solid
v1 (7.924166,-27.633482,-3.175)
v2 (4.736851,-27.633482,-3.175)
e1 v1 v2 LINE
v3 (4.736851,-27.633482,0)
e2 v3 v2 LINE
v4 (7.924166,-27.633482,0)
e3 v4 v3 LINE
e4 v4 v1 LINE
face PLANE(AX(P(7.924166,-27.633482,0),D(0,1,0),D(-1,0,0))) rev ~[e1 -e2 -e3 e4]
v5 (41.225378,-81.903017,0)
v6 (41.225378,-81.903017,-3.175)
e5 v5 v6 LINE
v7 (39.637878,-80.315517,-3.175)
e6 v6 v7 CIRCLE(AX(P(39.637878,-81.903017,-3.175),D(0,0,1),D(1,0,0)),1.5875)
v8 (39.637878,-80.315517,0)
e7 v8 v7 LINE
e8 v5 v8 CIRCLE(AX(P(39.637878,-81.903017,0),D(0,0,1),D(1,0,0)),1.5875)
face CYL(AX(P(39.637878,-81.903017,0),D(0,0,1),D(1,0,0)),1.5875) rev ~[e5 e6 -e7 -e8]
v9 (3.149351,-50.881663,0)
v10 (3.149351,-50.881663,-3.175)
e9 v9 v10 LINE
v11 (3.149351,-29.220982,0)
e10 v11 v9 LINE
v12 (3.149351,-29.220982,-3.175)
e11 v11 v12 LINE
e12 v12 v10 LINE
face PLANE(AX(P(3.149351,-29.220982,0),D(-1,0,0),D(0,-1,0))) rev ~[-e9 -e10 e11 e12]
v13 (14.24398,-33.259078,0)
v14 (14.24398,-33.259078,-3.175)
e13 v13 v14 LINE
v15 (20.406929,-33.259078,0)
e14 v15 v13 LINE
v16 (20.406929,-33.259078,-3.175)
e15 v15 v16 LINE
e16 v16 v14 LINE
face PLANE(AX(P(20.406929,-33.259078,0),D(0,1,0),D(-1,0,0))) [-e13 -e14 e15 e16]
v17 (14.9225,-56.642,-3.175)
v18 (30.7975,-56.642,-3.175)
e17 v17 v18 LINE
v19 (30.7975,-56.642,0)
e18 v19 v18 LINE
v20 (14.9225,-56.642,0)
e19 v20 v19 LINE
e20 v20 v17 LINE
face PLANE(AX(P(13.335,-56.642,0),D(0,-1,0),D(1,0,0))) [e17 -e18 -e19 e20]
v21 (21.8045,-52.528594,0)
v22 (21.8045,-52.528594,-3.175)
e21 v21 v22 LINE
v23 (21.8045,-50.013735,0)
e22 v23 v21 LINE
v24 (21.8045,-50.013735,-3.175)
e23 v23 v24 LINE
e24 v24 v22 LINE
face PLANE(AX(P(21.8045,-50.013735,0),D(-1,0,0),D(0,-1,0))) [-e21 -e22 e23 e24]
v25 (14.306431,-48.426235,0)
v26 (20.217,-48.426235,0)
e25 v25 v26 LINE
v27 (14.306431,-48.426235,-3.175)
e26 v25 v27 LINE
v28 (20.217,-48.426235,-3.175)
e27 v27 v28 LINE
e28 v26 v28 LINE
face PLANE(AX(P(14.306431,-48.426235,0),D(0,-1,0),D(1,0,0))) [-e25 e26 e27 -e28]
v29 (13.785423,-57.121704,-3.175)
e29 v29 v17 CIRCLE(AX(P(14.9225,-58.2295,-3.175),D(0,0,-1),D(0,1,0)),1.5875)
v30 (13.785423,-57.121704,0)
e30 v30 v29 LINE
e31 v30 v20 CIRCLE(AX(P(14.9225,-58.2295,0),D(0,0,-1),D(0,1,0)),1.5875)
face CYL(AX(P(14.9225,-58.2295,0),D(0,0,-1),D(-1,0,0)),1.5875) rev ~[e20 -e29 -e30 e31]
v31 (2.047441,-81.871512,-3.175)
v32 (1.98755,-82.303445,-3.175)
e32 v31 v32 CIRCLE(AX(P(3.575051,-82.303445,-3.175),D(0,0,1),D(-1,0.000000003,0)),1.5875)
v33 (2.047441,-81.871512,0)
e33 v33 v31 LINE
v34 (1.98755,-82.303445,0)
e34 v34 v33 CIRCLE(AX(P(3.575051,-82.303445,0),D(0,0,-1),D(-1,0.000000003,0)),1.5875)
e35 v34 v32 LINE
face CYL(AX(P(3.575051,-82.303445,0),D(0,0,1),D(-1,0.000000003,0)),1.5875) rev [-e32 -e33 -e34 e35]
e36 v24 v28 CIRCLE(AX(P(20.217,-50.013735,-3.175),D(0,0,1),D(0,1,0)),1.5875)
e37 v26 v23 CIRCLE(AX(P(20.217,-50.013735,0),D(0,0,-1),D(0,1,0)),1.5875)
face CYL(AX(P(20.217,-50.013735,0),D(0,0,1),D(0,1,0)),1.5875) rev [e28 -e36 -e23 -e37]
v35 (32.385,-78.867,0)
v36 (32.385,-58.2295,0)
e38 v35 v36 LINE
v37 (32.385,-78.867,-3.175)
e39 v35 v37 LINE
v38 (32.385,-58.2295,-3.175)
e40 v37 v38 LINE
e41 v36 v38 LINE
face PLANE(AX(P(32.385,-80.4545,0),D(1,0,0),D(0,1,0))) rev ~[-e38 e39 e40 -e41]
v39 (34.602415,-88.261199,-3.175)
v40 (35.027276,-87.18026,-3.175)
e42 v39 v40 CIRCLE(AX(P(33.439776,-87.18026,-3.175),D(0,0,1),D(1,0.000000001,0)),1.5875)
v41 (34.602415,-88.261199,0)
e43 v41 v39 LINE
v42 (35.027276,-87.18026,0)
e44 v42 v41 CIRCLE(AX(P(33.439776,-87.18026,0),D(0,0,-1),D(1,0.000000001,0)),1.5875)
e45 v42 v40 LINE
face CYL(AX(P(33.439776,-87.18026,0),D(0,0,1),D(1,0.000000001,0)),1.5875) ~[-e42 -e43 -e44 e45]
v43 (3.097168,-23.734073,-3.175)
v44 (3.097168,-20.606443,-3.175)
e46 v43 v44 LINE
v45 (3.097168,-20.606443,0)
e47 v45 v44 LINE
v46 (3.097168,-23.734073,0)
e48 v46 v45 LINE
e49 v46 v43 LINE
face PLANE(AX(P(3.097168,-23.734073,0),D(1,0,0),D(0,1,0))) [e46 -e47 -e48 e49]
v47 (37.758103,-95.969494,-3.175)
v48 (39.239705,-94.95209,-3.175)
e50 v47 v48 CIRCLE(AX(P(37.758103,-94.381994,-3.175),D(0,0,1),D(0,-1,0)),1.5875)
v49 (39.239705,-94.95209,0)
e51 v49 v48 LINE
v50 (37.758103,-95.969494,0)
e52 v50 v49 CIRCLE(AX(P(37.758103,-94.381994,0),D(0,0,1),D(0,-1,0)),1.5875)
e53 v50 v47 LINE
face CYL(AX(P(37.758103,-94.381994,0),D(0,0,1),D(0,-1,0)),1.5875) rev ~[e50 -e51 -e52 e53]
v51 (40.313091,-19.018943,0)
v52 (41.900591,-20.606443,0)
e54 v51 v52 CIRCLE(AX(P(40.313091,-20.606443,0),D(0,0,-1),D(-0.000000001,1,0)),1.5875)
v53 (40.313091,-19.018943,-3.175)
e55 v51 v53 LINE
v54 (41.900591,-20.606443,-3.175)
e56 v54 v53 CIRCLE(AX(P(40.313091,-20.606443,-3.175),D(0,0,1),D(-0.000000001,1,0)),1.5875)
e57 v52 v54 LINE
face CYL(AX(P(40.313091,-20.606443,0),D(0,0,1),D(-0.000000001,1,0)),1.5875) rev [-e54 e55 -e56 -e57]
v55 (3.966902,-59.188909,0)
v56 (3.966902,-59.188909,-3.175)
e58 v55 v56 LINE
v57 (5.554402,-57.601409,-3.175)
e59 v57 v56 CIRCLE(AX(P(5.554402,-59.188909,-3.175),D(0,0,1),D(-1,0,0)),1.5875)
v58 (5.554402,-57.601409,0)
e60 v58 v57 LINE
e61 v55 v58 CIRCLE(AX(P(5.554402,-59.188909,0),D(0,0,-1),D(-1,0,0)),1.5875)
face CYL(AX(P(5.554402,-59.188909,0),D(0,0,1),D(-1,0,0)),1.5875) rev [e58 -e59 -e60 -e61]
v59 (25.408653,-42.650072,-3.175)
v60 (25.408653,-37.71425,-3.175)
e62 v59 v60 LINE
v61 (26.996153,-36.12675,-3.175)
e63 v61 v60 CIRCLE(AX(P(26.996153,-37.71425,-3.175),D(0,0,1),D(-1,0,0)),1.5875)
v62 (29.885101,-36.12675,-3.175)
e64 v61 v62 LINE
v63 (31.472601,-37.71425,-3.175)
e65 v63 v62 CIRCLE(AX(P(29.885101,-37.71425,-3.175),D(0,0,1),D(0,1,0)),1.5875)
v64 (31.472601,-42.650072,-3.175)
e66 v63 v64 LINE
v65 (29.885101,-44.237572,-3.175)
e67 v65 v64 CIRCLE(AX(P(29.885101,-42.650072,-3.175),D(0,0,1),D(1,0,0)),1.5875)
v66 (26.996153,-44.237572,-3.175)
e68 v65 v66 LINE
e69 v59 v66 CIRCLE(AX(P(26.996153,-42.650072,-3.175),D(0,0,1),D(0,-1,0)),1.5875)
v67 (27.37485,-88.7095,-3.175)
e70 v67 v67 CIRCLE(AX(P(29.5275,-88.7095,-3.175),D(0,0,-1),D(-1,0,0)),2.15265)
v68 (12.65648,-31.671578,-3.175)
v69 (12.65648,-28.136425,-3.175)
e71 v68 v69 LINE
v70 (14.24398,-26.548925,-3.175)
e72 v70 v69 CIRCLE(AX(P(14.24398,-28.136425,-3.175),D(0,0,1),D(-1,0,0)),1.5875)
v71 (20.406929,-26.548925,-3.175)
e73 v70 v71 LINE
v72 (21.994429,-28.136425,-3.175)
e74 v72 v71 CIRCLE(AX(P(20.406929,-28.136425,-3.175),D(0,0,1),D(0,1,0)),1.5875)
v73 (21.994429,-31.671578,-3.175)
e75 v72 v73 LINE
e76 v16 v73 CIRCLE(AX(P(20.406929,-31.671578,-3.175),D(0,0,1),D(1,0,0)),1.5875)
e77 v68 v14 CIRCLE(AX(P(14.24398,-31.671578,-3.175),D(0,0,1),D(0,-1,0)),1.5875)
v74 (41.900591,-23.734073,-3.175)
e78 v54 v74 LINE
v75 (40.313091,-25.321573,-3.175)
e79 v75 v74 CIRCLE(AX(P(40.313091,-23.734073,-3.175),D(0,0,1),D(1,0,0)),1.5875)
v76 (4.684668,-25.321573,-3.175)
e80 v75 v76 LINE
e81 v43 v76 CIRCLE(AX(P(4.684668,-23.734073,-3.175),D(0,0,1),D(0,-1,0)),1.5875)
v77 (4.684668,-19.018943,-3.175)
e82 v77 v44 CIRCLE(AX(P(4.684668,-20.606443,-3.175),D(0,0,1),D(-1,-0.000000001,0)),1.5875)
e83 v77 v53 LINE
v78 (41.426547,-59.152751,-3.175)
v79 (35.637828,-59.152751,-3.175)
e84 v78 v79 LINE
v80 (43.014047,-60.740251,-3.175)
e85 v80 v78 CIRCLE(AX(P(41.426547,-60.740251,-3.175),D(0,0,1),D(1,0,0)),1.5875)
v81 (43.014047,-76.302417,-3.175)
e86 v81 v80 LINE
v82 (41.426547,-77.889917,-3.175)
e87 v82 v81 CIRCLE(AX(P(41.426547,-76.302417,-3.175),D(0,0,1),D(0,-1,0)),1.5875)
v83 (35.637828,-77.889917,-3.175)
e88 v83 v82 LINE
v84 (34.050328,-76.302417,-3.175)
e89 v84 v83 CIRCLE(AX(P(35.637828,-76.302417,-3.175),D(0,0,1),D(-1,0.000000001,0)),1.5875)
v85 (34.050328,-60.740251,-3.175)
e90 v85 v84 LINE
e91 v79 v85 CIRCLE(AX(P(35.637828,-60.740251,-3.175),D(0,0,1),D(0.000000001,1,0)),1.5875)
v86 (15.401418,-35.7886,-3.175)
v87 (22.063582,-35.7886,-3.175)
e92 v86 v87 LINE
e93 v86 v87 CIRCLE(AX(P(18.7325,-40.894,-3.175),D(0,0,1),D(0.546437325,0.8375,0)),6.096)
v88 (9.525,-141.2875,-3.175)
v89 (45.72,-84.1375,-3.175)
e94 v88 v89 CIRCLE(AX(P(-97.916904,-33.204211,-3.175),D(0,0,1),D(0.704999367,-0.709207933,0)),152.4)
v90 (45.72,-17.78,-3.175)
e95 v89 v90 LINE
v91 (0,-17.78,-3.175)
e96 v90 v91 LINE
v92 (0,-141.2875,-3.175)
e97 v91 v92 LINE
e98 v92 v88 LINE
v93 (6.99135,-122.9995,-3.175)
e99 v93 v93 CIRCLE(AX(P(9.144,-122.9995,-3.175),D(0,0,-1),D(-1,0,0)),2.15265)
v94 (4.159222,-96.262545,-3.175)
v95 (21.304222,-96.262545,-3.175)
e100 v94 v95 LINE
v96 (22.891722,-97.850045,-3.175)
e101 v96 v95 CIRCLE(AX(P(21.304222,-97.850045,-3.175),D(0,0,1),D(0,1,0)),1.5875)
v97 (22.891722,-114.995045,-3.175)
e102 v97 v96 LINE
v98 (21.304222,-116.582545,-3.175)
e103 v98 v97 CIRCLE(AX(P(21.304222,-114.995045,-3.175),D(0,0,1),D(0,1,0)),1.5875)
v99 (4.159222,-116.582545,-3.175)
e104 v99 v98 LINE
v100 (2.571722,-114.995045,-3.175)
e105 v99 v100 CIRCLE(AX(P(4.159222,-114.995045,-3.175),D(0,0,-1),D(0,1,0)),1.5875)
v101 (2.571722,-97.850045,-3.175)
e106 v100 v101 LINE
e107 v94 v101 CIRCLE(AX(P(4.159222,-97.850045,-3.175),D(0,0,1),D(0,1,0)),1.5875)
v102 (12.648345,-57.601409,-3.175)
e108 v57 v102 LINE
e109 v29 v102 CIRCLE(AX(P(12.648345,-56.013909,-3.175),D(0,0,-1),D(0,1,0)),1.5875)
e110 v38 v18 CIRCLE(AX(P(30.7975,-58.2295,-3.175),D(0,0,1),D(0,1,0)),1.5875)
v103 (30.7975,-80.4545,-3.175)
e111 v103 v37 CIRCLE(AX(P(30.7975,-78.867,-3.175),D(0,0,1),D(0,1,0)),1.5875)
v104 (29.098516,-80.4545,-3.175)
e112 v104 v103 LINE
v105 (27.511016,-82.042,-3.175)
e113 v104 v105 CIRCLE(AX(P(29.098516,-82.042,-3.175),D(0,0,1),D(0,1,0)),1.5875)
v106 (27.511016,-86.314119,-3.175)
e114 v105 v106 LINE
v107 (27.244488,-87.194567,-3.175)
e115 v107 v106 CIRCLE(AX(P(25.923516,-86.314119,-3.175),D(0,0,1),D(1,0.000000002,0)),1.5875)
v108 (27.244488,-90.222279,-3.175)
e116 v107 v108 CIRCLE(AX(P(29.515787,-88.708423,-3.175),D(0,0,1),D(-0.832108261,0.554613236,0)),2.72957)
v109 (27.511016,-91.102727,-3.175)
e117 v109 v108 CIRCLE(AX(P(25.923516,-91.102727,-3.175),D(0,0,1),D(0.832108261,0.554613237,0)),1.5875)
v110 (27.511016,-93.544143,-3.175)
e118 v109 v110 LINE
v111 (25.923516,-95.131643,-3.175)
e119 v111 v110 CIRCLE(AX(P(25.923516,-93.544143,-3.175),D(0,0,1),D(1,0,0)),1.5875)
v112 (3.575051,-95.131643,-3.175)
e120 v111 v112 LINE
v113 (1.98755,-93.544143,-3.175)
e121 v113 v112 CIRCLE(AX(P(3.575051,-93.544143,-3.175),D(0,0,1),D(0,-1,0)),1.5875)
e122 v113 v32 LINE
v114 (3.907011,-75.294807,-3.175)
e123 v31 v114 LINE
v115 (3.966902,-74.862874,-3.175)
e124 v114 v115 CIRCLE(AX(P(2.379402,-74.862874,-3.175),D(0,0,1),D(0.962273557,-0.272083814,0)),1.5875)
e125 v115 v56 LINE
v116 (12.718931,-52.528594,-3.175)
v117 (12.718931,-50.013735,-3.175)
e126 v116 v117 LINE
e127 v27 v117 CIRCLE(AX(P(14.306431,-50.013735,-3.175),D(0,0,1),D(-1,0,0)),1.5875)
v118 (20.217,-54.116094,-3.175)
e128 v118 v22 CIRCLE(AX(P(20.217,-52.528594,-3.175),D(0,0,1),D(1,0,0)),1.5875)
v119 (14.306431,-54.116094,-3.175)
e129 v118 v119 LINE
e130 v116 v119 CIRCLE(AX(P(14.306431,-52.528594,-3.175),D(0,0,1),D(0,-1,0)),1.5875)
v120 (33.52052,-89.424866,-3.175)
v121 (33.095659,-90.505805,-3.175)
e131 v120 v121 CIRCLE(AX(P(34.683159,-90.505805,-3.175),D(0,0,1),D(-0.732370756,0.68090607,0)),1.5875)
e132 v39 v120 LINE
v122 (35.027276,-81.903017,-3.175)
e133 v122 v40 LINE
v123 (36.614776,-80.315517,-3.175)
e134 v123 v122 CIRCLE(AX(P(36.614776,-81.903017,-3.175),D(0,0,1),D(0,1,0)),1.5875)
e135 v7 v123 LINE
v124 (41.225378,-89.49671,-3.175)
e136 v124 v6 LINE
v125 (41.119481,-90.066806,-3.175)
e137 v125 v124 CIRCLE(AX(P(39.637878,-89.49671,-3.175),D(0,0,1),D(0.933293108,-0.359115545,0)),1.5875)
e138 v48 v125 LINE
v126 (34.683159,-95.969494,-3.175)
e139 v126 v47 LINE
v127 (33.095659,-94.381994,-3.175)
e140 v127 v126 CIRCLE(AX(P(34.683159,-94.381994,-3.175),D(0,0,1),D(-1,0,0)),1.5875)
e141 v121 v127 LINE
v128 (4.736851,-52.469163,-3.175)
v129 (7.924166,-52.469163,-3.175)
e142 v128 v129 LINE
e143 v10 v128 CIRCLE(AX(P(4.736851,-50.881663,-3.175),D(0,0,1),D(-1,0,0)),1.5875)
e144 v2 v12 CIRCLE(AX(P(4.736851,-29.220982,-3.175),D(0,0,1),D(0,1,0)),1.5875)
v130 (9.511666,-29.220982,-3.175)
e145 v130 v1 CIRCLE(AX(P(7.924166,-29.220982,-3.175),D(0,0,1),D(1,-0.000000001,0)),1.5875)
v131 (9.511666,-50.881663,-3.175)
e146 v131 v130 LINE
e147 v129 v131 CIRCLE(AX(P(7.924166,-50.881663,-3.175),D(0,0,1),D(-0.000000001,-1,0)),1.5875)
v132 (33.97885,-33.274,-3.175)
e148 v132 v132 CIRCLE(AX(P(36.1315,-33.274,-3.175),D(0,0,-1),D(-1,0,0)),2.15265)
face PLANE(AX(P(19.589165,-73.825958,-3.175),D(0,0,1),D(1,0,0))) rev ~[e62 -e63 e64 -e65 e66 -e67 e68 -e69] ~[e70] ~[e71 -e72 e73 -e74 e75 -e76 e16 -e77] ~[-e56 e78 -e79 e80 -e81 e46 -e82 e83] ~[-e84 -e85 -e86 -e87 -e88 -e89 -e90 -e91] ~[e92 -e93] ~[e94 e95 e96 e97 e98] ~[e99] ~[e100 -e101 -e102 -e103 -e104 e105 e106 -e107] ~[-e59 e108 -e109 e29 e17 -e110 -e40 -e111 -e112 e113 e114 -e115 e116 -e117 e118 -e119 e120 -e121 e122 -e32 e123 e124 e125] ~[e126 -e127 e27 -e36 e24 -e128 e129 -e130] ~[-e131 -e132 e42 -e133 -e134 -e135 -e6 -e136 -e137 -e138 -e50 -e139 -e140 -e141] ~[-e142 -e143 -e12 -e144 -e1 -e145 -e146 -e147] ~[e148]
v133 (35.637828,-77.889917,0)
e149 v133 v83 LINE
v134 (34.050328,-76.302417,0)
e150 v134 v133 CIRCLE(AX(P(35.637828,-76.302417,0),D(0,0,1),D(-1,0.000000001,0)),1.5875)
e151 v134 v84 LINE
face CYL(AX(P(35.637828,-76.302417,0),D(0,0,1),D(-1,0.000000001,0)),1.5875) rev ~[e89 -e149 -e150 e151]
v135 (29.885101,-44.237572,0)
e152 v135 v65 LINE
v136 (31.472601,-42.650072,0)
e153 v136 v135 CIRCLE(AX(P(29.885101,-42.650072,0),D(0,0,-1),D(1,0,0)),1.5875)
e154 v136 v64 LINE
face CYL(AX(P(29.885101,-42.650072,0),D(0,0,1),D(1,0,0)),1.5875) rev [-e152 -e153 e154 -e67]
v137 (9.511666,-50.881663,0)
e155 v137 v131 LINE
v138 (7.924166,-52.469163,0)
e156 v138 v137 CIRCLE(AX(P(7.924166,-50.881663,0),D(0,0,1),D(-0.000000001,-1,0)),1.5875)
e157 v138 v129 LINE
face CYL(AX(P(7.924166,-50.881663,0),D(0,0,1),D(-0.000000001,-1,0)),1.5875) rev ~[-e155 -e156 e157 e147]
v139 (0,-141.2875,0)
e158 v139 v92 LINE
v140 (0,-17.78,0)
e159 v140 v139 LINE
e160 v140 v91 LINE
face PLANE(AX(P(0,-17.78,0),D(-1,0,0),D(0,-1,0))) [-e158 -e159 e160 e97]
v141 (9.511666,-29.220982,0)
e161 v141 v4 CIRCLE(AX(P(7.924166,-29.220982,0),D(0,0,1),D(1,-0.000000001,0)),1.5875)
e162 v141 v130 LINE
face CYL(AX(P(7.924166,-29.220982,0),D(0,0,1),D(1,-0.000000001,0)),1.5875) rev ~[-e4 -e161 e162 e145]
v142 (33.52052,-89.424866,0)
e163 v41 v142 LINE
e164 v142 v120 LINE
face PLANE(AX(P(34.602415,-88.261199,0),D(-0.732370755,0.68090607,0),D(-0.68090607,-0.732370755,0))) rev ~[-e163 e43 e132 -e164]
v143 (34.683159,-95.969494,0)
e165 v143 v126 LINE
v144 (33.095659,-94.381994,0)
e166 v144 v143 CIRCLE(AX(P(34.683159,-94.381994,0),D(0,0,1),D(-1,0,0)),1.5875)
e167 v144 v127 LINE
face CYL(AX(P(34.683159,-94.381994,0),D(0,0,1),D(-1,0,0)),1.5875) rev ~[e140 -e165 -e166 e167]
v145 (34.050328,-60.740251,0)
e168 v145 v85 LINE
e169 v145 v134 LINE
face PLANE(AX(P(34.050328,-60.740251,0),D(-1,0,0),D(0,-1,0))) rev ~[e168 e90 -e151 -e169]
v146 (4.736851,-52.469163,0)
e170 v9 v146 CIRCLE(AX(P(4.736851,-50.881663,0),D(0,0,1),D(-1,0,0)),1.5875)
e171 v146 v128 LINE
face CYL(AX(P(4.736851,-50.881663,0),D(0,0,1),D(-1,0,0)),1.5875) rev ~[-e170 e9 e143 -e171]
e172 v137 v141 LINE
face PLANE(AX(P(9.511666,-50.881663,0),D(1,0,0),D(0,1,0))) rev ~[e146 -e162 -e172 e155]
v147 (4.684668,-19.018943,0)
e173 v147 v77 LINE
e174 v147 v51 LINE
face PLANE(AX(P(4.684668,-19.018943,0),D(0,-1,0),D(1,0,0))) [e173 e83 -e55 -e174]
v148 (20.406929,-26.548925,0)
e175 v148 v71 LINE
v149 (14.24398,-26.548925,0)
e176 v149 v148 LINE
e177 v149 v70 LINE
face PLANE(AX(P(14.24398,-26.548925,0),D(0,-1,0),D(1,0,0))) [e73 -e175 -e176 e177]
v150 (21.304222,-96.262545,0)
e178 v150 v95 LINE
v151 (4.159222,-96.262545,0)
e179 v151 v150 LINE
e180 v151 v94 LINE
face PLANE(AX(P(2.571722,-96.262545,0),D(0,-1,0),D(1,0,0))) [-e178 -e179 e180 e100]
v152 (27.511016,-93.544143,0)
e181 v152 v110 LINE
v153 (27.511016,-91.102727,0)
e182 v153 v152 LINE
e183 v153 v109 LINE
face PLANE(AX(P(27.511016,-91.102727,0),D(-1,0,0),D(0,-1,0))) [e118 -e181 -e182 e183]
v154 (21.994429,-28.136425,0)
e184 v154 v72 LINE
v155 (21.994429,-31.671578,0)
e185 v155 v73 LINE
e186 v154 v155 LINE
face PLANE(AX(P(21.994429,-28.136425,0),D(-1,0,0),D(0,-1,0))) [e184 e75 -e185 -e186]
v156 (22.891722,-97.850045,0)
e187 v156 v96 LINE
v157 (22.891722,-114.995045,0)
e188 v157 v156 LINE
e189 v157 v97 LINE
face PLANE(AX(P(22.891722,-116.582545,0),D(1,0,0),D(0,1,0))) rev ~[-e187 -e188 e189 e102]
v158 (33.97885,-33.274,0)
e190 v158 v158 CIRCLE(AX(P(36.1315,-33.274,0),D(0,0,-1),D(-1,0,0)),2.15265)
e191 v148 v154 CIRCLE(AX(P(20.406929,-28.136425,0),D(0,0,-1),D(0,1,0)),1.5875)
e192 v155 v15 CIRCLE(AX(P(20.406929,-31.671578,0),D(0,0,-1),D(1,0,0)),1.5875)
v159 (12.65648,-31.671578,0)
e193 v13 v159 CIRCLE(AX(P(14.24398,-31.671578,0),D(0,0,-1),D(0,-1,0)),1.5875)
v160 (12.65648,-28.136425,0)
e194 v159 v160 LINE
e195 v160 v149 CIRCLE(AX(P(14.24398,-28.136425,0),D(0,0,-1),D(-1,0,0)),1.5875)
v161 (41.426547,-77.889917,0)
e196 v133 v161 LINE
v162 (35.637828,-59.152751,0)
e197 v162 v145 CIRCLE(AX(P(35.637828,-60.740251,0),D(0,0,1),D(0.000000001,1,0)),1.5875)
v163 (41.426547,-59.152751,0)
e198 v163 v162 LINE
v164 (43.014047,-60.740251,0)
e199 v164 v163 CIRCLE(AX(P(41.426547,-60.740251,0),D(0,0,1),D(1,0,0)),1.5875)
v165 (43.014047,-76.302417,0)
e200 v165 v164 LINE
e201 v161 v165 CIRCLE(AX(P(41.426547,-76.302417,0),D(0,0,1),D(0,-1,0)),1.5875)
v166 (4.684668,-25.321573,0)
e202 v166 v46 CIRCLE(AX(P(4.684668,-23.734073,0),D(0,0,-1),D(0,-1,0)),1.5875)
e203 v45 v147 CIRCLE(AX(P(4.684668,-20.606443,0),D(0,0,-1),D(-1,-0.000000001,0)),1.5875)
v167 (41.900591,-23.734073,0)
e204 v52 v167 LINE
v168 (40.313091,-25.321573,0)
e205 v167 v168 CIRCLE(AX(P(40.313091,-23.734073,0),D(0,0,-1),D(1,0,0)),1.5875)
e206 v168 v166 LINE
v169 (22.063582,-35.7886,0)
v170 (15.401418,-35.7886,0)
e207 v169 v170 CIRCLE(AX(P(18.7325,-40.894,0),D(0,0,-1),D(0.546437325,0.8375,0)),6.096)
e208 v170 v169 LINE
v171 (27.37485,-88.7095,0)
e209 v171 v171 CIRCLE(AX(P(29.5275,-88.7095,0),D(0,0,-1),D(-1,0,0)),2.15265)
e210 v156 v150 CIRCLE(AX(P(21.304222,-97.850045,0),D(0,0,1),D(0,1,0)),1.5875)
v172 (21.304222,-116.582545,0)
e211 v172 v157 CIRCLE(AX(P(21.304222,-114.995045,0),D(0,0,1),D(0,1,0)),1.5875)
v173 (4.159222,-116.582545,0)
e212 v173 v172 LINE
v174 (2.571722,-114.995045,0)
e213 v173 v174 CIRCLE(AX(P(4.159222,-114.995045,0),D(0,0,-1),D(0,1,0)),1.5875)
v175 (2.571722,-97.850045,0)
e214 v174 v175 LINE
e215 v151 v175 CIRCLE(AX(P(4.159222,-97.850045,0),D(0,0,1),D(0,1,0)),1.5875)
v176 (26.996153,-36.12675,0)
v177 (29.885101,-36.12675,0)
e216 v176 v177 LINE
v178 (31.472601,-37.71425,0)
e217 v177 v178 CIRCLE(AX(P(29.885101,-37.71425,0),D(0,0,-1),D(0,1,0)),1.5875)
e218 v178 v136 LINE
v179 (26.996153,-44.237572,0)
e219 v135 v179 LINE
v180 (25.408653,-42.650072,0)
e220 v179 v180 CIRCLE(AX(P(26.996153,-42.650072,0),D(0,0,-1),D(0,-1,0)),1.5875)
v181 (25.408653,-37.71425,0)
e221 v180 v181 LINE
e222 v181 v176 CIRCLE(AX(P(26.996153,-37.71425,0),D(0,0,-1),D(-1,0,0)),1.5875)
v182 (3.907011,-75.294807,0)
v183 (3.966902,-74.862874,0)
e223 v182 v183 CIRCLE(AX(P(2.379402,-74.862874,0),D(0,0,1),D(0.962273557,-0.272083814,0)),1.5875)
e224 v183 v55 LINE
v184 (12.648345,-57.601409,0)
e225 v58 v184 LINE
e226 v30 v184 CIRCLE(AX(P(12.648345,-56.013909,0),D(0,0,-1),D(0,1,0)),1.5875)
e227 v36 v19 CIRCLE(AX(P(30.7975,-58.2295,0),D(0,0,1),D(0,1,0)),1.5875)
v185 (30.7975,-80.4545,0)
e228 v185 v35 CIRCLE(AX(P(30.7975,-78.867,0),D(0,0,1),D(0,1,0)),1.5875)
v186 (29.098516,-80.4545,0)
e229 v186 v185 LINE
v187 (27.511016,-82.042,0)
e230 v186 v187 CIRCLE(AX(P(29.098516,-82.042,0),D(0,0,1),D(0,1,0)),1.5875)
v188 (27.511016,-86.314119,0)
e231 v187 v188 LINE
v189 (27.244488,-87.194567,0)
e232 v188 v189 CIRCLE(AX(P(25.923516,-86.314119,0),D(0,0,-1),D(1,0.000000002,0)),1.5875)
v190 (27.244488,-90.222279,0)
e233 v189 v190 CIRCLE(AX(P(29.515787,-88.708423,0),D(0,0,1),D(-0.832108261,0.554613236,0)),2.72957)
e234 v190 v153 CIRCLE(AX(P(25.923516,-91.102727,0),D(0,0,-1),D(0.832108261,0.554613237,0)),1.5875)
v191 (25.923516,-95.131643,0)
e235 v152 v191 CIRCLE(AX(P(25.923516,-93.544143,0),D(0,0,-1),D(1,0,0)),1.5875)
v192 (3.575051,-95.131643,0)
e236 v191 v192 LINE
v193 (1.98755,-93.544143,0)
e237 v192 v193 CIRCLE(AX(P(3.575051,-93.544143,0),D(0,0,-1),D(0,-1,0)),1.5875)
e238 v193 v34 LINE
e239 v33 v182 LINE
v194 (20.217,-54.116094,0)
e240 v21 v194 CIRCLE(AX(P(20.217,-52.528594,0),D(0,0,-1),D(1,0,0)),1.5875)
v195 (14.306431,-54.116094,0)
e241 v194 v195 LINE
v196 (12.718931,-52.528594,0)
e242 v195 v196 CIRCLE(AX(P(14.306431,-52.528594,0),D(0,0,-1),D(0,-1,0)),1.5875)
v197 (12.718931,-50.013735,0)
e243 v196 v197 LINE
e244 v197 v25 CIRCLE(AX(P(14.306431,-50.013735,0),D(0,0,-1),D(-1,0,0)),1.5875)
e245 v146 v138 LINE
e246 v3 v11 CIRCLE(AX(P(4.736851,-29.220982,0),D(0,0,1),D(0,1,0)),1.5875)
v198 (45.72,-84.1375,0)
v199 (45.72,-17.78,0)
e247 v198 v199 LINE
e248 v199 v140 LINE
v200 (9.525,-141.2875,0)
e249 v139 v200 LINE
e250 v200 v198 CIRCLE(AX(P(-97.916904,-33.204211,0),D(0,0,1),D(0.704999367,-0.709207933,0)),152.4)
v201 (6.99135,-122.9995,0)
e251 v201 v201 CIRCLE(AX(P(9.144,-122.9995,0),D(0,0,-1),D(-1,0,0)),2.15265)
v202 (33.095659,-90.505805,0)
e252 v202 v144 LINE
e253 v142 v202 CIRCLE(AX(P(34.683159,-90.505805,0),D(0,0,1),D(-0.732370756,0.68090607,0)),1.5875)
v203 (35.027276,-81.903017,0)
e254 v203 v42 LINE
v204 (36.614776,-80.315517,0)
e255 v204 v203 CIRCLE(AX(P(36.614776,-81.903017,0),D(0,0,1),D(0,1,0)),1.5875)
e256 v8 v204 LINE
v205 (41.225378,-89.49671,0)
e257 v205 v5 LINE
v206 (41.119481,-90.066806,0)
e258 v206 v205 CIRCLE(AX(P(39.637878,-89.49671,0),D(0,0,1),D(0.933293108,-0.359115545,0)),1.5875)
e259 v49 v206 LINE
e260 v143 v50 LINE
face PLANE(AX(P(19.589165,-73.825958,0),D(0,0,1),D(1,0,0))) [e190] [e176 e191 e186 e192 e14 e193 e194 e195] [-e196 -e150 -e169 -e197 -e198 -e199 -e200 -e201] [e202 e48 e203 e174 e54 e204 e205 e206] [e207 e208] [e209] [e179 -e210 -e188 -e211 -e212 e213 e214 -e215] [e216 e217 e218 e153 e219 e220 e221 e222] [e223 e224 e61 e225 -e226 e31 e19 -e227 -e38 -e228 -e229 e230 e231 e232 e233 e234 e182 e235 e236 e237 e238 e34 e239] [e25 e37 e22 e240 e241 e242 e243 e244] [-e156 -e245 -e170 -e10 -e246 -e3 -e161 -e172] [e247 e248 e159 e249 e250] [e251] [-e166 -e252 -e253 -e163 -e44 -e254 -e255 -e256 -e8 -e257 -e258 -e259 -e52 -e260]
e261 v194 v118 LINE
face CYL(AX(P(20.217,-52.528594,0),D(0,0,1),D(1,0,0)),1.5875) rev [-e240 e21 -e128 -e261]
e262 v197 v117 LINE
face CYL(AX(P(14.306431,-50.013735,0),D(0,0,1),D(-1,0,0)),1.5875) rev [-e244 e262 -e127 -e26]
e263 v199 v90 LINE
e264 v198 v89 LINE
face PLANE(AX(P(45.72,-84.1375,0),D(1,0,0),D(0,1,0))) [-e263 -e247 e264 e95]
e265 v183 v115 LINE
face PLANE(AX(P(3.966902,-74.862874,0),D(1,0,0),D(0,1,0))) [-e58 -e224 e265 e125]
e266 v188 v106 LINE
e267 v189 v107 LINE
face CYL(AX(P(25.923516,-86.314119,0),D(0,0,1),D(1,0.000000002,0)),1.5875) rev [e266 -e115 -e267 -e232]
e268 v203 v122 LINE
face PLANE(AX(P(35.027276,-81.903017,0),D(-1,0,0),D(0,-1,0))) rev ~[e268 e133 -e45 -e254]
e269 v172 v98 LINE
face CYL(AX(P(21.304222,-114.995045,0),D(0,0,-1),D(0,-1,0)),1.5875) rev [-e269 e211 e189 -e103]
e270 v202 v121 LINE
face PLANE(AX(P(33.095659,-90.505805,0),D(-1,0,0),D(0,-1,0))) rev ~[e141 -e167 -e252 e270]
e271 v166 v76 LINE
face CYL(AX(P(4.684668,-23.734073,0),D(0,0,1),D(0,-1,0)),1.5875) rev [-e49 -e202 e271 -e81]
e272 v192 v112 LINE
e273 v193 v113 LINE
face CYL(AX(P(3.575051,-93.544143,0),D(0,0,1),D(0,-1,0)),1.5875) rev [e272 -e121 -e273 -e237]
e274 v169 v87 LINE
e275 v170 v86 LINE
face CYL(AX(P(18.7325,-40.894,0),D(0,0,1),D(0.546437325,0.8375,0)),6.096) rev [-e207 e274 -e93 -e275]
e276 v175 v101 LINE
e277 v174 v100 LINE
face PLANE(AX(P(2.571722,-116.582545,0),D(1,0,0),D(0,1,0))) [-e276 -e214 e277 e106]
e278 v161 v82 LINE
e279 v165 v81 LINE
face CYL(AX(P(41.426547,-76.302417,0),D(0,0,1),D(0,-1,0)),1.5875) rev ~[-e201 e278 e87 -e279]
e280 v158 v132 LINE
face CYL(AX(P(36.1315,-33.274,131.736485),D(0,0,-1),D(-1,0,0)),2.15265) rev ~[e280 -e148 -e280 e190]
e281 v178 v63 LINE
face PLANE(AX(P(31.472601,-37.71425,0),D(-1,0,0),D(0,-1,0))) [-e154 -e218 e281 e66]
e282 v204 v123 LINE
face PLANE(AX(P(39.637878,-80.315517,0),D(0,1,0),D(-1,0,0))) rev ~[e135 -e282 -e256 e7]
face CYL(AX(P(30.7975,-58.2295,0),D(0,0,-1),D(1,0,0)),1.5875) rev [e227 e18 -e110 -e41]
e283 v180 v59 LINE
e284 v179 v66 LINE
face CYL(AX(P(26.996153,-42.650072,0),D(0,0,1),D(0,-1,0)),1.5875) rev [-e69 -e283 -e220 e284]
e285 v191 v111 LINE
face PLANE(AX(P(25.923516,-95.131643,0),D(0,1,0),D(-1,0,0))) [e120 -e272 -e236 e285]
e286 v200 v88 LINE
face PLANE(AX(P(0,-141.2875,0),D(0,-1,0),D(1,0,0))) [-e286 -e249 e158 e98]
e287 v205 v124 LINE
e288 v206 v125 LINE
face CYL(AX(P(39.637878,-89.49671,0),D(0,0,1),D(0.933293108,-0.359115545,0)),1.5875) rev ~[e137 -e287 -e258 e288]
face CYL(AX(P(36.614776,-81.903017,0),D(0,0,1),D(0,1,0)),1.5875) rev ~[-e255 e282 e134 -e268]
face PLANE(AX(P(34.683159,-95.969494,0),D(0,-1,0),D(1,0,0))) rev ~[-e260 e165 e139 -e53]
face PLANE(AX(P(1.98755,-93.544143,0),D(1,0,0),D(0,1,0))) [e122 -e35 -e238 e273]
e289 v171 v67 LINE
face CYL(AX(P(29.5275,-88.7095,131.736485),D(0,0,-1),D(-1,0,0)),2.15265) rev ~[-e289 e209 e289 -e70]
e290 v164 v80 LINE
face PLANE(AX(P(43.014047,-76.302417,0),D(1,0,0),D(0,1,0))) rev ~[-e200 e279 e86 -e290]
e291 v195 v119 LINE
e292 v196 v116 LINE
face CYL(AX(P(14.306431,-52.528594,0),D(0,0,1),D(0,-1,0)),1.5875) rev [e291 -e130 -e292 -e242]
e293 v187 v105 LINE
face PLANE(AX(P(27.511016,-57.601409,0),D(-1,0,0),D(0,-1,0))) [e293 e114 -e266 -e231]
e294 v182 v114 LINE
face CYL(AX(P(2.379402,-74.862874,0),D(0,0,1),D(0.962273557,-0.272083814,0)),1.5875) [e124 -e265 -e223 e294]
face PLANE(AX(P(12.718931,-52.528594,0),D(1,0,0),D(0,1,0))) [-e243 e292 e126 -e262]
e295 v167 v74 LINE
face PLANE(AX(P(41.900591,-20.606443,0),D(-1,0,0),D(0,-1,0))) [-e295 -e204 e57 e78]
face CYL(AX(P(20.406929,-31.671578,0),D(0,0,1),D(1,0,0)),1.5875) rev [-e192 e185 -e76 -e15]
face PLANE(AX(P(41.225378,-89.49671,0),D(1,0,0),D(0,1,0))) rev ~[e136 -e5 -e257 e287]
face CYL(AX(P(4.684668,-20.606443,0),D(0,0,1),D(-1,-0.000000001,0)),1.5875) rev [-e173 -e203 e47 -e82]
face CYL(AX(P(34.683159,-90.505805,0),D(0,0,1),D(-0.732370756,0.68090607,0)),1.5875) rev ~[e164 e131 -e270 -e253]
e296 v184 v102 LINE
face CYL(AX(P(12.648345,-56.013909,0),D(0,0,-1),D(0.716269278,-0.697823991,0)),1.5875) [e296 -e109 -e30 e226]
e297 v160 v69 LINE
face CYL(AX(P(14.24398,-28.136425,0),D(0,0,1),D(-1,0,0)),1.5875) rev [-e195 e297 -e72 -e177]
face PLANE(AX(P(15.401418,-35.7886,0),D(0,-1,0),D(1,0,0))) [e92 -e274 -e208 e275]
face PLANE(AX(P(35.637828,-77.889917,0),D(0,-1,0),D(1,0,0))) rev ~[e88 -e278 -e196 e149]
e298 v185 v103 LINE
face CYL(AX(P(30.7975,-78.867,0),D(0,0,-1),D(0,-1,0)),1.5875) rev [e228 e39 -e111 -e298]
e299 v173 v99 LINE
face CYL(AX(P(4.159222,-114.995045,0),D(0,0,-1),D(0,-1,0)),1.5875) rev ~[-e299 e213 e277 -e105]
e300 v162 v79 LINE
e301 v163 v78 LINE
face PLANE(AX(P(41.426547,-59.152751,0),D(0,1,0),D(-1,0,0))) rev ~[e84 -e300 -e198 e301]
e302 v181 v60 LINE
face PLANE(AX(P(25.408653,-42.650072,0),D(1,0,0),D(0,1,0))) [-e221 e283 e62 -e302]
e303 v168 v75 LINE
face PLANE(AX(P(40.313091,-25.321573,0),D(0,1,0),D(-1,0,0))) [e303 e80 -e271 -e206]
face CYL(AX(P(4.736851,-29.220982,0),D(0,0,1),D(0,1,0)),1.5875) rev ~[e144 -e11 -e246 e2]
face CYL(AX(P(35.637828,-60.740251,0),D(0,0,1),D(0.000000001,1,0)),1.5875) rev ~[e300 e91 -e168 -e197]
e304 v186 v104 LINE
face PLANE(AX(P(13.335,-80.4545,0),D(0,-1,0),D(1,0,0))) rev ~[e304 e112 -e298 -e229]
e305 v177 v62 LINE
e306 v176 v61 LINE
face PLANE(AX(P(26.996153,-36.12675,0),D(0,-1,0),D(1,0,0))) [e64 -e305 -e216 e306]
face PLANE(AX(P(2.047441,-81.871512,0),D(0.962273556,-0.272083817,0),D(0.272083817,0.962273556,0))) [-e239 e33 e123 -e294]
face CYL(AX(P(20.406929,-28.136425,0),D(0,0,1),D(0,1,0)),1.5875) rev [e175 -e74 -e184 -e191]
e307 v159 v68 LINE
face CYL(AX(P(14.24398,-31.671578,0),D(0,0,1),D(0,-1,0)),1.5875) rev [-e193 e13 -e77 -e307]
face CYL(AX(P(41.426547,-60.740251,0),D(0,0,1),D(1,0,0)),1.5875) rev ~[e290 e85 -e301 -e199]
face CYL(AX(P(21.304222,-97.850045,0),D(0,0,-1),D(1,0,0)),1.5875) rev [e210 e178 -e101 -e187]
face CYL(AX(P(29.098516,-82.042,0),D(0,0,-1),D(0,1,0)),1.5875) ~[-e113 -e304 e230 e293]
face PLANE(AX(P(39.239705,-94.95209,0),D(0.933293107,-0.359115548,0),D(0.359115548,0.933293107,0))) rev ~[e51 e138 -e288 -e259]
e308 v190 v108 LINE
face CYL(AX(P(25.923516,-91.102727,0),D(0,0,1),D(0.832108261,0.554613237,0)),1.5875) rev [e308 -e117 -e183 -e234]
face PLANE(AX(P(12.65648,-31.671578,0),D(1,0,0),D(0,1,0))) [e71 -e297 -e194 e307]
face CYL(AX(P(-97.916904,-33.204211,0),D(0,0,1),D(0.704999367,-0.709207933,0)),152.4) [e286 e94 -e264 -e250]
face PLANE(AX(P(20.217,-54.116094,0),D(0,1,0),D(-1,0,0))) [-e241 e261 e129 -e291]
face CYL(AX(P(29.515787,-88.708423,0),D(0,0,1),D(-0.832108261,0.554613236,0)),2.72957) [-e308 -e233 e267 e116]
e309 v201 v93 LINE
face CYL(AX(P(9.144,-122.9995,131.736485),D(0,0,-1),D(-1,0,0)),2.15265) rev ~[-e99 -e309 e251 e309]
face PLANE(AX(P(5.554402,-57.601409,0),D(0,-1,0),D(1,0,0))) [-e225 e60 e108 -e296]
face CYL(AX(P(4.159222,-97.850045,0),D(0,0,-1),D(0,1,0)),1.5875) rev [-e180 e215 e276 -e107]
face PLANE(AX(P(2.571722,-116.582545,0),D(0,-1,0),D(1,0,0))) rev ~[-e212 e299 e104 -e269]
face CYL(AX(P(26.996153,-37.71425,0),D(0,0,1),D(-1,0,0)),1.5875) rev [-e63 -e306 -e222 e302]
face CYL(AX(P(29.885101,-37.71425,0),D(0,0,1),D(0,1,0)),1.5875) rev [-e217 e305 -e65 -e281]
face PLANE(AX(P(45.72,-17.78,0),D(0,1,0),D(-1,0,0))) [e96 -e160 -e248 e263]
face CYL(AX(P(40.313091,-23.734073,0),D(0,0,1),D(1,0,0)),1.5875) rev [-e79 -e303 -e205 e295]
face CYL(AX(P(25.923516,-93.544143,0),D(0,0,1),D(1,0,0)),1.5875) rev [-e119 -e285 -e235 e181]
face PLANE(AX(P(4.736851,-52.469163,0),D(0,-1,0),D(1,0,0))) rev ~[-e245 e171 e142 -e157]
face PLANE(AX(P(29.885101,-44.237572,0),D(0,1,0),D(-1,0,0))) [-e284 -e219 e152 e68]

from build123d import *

# Parameters (mm, degrees)
SKETCH1_R             = 1.190050877
BOSS_EXTRUDE1_DEPTH   = 3.175
CUT_EXTRUDE1_DEPTH    = 4.175
SKETCH12_W            = 19.05
SKETCH12_H            = 23.8125
CUT_EXTRUDE2_DEPTH    = 4.175
SKETCH17_W            = 20.32
SKETCH17_H            = 20.32
CUT_EXTRUDE3_DEPTH    = 4.175
FILLET1_R             = 1.5875
F_6_CLEARANCE_HOLE1_D = 4.3053
CUT_EXTRUDE4_DEPTH    = 4.175
FILLET3_R             = 1.5875


with BuildPart() as part:
    # Sketch1 → Boss-Extrude1 (new body)
    with BuildSketch(Plane.XY):
        with BuildLine():
            Line((0, -17.78), (0, -141.2875))
            Line((0, -141.2875), (9.525, -141.2875))
            ThreePointArc((9.525, -141.2875), (30.833523511, -114.746148224), (45.72, -84.1375))
            Line((45.72, -84.1375), (45.72, -17.78))
            Line((45.72, -17.78), (0, -17.78))
        make_face()
        with Locations((18.7325, -40.894)):
            Circle(SKETCH1_R, mode=Mode.SUBTRACT)
    extrude(amount=-BOSS_EXTRUDE1_DEPTH)

    # Sketch11 → Cut-Extrude1 (cut, through all)
    with BuildSketch(Plane(origin=(20.844780046, -43.574770805, 0), x_dir=(1, 0, 0), z_dir=(0, 0, 1))):
        with BuildLine():
            Line((-5.443361979, 7.786170805), (1.218801886, 7.786170805))
            ThreePointArc((1.218801886, 7.786170805), (-2.112280046, -3.415229195), (-5.443361979, 7.786170805))
        make_face()
    extrude(amount=-CUT_EXTRUDE1_DEPTH, mode=Mode.SUBTRACT)

    # Sketch12 → Cut-Extrude2 (cut, through all)
    with BuildSketch(Plane.XY):
        with Locations((22.86, -68.54825)):
            Rectangle(SKETCH12_W, SKETCH12_H)
    extrude(amount=-CUT_EXTRUDE2_DEPTH, mode=Mode.SUBTRACT)

    # Sketch17 → Cut-Extrude3 (cut, through all)
    with BuildSketch(Plane.XY):
        with Locations((12.731722108, -106.422544949)):
            Rectangle(SKETCH17_W, SKETCH17_H)
    extrude(amount=-CUT_EXTRUDE3_DEPTH, mode=Mode.SUBTRACT)

    # Fillet1
    fillet1_edges = [part.edges().sort_by_distance(p)[0] for p in [
        (13.335, -80.4545, -1.5875),
        (13.335, -56.642, -1.5875),
        (32.385, -56.642, -1.5875),
        (32.385, -80.4545, -1.5875),
        (22.891722108, -96.262544949, -1.5875),
        (22.891722108, -116.582544949, -1.5875),
        (2.571722108, -116.582544949, -1.5875),
        (2.571722108, -96.262544949, -1.5875),
    ]]
    fillet(fillet1_edges, radius=FILLET1_R)

    # #6 Clearance Hole1 (through all)
    with Locations(Plane.XY):
        with Locations((9.144, -122.9995), (29.5275, -88.7095), (36.1315, -33.274)):
            Hole(F_6_CLEARANCE_HOLE1_D / 2)

    # Sketch20 → Cut-Extrude4 (cut, through all)
    with BuildSketch(Plane.XY):
        with BuildLine():
            Line((1.9875505, -93.544142926), (1.9875505, -82.303444681))
            ThreePointArc((1.9875505, -82.303444681), (2.002594465, -82.085411961), (2.04744123, -81.871511621))
            Line((2.04744123, -81.871511621), (3.907011168, -75.294806703))
            ThreePointArc((3.907011168, -75.294806703), (3.951857933, -75.080906363), (3.966901898, -74.862873644))
            Line((3.966901898, -74.862873644), (3.966901898, -59.18890883))
            ThreePointArc((3.966901898, -59.18890883), (4.431869883, -58.066376815), (5.554401898, -57.60140883))
            Line((5.554401898, -57.60140883), (9.117080567, -57.60140883))
            Line((9.117080567, -57.60140883), (27.511016487, -57.60140883))
            Line((27.511016487, -57.60140883), (27.511016487, -86.314118515))
            ThreePointArc((27.511016487, -86.314118515), (27.442924116, -86.774071456), (27.244488351, -87.194567028))
            ThreePointArc((27.244488351, -87.194567028), (26.786216014, -88.708422955), (27.244488351, -90.222278881))
            ThreePointArc((27.244488351, -90.222278881), (27.442924116, -90.642774454), (27.511016487, -91.102727395))
            Line((27.511016487, -91.102727395), (27.511016487, -93.544142926))
            ThreePointArc((27.511016487, -93.544142926), (27.046048502, -94.666674941), (25.923516487, -95.131642926))
            Line((25.923516487, -95.131642926), (3.5750505, -95.131642926))
            ThreePointArc((3.5750505, -95.131642926), (2.452518485, -94.666674941), (1.9875505, -93.544142926))
        make_face()
        with BuildLine():
            Line((39.239705373, -94.952090373), (41.119480948, -90.066805962))
            ThreePointArc((41.119480948, -90.066805962), (41.19867933, -89.78663398), (41.225378141, -89.49671003))
            Line((41.225378141, -89.49671003), (41.225378141, -81.903016886))
            ThreePointArc((41.225378141, -81.903016886), (40.760410156, -80.780484871), (39.637878141, -80.315516886))
            Line((39.637878141, -80.315516886), (36.61477648, -80.315516886))
            ThreePointArc((36.61477648, -80.315516886), (35.492244465, -80.780484871), (35.02727648, -81.903016886))
            Line((35.02727648, -81.903016886), (35.02727648, -87.180260326))
            ThreePointArc((35.02727648, -87.180260326), (34.917248136, -87.760978637), (34.602415054, -88.261198713))
            Line((34.602415054, -88.261198713), (33.520520126, -89.424866126))
            ThreePointArc((33.520520126, -89.424866126), (33.205687045, -89.925086202), (33.095658701, -90.505804513))
            Line((33.095658701, -90.505804513), (33.095658701, -94.381994441))
            ThreePointArc((33.095658701, -94.381994441), (33.560626686, -95.504526456), (34.683158701, -95.969494441))
            Line((34.683158701, -95.969494441), (37.758102566, -95.969494441))
            ThreePointArc((37.758102566, -95.969494441), (38.65674848, -95.690654737), (39.239705373, -94.952090373))
        make_face()
        with BuildLine():
            Line((20.217000424, -54.116093897), (14.306430977, -54.116093897))
            ThreePointArc((14.306430977, -54.116093897), (13.183898962, -53.651125912), (12.718930977, -52.528593897))
            Line((12.718930977, -52.528593897), (12.718930977, -50.013735278))
            ThreePointArc((12.718930977, -50.013735278), (13.183898962, -48.891203263), (14.306430977, -48.426235278))
            Line((14.306430977, -48.426235278), (20.217000424, -48.426235278))
            ThreePointArc((20.217000424, -48.426235278), (21.339532439, -48.891203263), (21.804500424, -50.013735278))
            Line((21.804500424, -50.013735278), (21.804500424, -52.528593897))
            ThreePointArc((21.804500424, -52.528593897), (21.339532439, -53.651125912), (20.217000424, -54.116093897))
        make_face()
        with BuildLine():
            Line((29.885101261, -44.237571754), (26.996152875, -44.237571754))
            ThreePointArc((26.996152875, -44.237571754), (25.87362086, -43.772603769), (25.408652875, -42.650071754))
            Line((25.408652875, -42.650071754), (25.408652875, -37.714249524))
            ThreePointArc((25.408652875, -37.714249524), (25.87362086, -36.591717509), (26.996152875, -36.126749524))
            Line((26.996152875, -36.126749524), (29.885101261, -36.126749524))
            ThreePointArc((29.885101261, -36.126749524), (31.007633276, -36.591717509), (31.472601261, -37.714249524))
            Line((31.472601261, -37.714249524), (31.472601261, -42.650071754))
            ThreePointArc((31.472601261, -42.650071754), (31.007633276, -43.772603769), (29.885101261, -44.237571754))
        make_face()
        with BuildLine():
            Line((20.406928746, -33.259078247), (14.243980141, -33.259078247))
            ThreePointArc((14.243980141, -33.259078247), (13.121448126, -32.794110262), (12.656480141, -31.671578247))
            Line((12.656480141, -31.671578247), (12.656480141, -28.136425111))
            ThreePointArc((12.656480141, -28.136425111), (13.121448126, -27.013893096), (14.243980141, -26.548925111))
            Line((14.243980141, -26.548925111), (20.406928746, -26.548925111))
            ThreePointArc((20.406928746, -26.548925111), (21.529460761, -27.013893096), (21.994428746, -28.136425111))
            Line((21.994428746, -28.136425111), (21.994428746, -31.671578247))
            ThreePointArc((21.994428746, -31.671578247), (21.529460761, -32.794110262), (20.406928746, -33.259078247))
        make_face()
        with BuildLine():
            Line((9.51166577, -50.881662937), (9.51166577, -29.220981566))
            ThreePointArc((9.51166577, -29.220981566), (9.046697786, -28.098449551), (7.92416577, -27.633481566))
            Line((7.92416577, -27.633481566), (4.736850702, -27.633481566))
            ThreePointArc((4.736850702, -27.633481566), (3.614318687, -28.098449551), (3.149350702, -29.220981566))
            Line((3.149350702, -29.220981566), (3.149350702, -50.881662937))
            ThreePointArc((3.149350702, -50.881662937), (3.614318687, -52.004194952), (4.736850702, -52.469162937))
            Line((4.736850702, -52.469162937), (7.92416577, -52.469162937))
            ThreePointArc((7.92416577, -52.469162937), (9.046697786, -52.004194952), (9.51166577, -50.881662937))
        make_face()
        with BuildLine():
            Line((40.313091041, -25.321573057), (4.684667753, -25.321573057))
            ThreePointArc((4.684667753, -25.321573057), (3.562135738, -24.856605072), (3.097167753, -23.734073057))
            Line((3.097167753, -23.734073057), (3.097167753, -20.606442704))
            ThreePointArc((3.097167753, -20.606442704), (3.562135738, -19.483910688), (4.684667753, -19.018942704))
            Line((4.684667753, -19.018942704), (40.313091041, -19.018942704))
            ThreePointArc((40.313091041, -19.018942704), (41.435623056, -19.483910688), (41.900591041, -20.606442704))
            Line((41.900591041, -20.606442704), (41.900591041, -23.734073057))
            ThreePointArc((41.900591041, -23.734073057), (41.435623056, -24.856605072), (40.313091041, -25.321573057))
        make_face()
        with BuildLine():
            Line((43.01404737, -76.302416551), (43.01404737, -60.74025149))
            ThreePointArc((43.01404737, -60.74025149), (42.549079385, -59.617719475), (41.42654737, -59.15275149))
            Line((41.42654737, -59.15275149), (35.637827713, -59.15275149))
            ThreePointArc((35.637827713, -59.15275149), (34.515295697, -59.617719475), (34.050327713, -60.74025149))
            Line((34.050327713, -60.74025149), (34.050327713, -76.302416551))
            ThreePointArc((34.050327713, -76.302416551), (34.515295697, -77.424948566), (35.637827713, -77.889916551))
            Line((35.637827713, -77.889916551), (41.42654737, -77.889916551))
            ThreePointArc((41.42654737, -77.889916551), (42.549079385, -77.424948566), (43.01404737, -76.302416551))
        make_face()
    extrude(amount=-CUT_EXTRUDE4_DEPTH, mode=Mode.SUBTRACT)

    # Fillet3
    fillet3_edges = [part.edges().sort_by_distance(p)[0] for p in [
        (13.464536443, -57.60140883, -1.5875),
        (27.511016487, -80.4545, -1.5875),
    ]]
    fillet(fillet3_edges, radius=FILLET3_R)


solid = part.part
